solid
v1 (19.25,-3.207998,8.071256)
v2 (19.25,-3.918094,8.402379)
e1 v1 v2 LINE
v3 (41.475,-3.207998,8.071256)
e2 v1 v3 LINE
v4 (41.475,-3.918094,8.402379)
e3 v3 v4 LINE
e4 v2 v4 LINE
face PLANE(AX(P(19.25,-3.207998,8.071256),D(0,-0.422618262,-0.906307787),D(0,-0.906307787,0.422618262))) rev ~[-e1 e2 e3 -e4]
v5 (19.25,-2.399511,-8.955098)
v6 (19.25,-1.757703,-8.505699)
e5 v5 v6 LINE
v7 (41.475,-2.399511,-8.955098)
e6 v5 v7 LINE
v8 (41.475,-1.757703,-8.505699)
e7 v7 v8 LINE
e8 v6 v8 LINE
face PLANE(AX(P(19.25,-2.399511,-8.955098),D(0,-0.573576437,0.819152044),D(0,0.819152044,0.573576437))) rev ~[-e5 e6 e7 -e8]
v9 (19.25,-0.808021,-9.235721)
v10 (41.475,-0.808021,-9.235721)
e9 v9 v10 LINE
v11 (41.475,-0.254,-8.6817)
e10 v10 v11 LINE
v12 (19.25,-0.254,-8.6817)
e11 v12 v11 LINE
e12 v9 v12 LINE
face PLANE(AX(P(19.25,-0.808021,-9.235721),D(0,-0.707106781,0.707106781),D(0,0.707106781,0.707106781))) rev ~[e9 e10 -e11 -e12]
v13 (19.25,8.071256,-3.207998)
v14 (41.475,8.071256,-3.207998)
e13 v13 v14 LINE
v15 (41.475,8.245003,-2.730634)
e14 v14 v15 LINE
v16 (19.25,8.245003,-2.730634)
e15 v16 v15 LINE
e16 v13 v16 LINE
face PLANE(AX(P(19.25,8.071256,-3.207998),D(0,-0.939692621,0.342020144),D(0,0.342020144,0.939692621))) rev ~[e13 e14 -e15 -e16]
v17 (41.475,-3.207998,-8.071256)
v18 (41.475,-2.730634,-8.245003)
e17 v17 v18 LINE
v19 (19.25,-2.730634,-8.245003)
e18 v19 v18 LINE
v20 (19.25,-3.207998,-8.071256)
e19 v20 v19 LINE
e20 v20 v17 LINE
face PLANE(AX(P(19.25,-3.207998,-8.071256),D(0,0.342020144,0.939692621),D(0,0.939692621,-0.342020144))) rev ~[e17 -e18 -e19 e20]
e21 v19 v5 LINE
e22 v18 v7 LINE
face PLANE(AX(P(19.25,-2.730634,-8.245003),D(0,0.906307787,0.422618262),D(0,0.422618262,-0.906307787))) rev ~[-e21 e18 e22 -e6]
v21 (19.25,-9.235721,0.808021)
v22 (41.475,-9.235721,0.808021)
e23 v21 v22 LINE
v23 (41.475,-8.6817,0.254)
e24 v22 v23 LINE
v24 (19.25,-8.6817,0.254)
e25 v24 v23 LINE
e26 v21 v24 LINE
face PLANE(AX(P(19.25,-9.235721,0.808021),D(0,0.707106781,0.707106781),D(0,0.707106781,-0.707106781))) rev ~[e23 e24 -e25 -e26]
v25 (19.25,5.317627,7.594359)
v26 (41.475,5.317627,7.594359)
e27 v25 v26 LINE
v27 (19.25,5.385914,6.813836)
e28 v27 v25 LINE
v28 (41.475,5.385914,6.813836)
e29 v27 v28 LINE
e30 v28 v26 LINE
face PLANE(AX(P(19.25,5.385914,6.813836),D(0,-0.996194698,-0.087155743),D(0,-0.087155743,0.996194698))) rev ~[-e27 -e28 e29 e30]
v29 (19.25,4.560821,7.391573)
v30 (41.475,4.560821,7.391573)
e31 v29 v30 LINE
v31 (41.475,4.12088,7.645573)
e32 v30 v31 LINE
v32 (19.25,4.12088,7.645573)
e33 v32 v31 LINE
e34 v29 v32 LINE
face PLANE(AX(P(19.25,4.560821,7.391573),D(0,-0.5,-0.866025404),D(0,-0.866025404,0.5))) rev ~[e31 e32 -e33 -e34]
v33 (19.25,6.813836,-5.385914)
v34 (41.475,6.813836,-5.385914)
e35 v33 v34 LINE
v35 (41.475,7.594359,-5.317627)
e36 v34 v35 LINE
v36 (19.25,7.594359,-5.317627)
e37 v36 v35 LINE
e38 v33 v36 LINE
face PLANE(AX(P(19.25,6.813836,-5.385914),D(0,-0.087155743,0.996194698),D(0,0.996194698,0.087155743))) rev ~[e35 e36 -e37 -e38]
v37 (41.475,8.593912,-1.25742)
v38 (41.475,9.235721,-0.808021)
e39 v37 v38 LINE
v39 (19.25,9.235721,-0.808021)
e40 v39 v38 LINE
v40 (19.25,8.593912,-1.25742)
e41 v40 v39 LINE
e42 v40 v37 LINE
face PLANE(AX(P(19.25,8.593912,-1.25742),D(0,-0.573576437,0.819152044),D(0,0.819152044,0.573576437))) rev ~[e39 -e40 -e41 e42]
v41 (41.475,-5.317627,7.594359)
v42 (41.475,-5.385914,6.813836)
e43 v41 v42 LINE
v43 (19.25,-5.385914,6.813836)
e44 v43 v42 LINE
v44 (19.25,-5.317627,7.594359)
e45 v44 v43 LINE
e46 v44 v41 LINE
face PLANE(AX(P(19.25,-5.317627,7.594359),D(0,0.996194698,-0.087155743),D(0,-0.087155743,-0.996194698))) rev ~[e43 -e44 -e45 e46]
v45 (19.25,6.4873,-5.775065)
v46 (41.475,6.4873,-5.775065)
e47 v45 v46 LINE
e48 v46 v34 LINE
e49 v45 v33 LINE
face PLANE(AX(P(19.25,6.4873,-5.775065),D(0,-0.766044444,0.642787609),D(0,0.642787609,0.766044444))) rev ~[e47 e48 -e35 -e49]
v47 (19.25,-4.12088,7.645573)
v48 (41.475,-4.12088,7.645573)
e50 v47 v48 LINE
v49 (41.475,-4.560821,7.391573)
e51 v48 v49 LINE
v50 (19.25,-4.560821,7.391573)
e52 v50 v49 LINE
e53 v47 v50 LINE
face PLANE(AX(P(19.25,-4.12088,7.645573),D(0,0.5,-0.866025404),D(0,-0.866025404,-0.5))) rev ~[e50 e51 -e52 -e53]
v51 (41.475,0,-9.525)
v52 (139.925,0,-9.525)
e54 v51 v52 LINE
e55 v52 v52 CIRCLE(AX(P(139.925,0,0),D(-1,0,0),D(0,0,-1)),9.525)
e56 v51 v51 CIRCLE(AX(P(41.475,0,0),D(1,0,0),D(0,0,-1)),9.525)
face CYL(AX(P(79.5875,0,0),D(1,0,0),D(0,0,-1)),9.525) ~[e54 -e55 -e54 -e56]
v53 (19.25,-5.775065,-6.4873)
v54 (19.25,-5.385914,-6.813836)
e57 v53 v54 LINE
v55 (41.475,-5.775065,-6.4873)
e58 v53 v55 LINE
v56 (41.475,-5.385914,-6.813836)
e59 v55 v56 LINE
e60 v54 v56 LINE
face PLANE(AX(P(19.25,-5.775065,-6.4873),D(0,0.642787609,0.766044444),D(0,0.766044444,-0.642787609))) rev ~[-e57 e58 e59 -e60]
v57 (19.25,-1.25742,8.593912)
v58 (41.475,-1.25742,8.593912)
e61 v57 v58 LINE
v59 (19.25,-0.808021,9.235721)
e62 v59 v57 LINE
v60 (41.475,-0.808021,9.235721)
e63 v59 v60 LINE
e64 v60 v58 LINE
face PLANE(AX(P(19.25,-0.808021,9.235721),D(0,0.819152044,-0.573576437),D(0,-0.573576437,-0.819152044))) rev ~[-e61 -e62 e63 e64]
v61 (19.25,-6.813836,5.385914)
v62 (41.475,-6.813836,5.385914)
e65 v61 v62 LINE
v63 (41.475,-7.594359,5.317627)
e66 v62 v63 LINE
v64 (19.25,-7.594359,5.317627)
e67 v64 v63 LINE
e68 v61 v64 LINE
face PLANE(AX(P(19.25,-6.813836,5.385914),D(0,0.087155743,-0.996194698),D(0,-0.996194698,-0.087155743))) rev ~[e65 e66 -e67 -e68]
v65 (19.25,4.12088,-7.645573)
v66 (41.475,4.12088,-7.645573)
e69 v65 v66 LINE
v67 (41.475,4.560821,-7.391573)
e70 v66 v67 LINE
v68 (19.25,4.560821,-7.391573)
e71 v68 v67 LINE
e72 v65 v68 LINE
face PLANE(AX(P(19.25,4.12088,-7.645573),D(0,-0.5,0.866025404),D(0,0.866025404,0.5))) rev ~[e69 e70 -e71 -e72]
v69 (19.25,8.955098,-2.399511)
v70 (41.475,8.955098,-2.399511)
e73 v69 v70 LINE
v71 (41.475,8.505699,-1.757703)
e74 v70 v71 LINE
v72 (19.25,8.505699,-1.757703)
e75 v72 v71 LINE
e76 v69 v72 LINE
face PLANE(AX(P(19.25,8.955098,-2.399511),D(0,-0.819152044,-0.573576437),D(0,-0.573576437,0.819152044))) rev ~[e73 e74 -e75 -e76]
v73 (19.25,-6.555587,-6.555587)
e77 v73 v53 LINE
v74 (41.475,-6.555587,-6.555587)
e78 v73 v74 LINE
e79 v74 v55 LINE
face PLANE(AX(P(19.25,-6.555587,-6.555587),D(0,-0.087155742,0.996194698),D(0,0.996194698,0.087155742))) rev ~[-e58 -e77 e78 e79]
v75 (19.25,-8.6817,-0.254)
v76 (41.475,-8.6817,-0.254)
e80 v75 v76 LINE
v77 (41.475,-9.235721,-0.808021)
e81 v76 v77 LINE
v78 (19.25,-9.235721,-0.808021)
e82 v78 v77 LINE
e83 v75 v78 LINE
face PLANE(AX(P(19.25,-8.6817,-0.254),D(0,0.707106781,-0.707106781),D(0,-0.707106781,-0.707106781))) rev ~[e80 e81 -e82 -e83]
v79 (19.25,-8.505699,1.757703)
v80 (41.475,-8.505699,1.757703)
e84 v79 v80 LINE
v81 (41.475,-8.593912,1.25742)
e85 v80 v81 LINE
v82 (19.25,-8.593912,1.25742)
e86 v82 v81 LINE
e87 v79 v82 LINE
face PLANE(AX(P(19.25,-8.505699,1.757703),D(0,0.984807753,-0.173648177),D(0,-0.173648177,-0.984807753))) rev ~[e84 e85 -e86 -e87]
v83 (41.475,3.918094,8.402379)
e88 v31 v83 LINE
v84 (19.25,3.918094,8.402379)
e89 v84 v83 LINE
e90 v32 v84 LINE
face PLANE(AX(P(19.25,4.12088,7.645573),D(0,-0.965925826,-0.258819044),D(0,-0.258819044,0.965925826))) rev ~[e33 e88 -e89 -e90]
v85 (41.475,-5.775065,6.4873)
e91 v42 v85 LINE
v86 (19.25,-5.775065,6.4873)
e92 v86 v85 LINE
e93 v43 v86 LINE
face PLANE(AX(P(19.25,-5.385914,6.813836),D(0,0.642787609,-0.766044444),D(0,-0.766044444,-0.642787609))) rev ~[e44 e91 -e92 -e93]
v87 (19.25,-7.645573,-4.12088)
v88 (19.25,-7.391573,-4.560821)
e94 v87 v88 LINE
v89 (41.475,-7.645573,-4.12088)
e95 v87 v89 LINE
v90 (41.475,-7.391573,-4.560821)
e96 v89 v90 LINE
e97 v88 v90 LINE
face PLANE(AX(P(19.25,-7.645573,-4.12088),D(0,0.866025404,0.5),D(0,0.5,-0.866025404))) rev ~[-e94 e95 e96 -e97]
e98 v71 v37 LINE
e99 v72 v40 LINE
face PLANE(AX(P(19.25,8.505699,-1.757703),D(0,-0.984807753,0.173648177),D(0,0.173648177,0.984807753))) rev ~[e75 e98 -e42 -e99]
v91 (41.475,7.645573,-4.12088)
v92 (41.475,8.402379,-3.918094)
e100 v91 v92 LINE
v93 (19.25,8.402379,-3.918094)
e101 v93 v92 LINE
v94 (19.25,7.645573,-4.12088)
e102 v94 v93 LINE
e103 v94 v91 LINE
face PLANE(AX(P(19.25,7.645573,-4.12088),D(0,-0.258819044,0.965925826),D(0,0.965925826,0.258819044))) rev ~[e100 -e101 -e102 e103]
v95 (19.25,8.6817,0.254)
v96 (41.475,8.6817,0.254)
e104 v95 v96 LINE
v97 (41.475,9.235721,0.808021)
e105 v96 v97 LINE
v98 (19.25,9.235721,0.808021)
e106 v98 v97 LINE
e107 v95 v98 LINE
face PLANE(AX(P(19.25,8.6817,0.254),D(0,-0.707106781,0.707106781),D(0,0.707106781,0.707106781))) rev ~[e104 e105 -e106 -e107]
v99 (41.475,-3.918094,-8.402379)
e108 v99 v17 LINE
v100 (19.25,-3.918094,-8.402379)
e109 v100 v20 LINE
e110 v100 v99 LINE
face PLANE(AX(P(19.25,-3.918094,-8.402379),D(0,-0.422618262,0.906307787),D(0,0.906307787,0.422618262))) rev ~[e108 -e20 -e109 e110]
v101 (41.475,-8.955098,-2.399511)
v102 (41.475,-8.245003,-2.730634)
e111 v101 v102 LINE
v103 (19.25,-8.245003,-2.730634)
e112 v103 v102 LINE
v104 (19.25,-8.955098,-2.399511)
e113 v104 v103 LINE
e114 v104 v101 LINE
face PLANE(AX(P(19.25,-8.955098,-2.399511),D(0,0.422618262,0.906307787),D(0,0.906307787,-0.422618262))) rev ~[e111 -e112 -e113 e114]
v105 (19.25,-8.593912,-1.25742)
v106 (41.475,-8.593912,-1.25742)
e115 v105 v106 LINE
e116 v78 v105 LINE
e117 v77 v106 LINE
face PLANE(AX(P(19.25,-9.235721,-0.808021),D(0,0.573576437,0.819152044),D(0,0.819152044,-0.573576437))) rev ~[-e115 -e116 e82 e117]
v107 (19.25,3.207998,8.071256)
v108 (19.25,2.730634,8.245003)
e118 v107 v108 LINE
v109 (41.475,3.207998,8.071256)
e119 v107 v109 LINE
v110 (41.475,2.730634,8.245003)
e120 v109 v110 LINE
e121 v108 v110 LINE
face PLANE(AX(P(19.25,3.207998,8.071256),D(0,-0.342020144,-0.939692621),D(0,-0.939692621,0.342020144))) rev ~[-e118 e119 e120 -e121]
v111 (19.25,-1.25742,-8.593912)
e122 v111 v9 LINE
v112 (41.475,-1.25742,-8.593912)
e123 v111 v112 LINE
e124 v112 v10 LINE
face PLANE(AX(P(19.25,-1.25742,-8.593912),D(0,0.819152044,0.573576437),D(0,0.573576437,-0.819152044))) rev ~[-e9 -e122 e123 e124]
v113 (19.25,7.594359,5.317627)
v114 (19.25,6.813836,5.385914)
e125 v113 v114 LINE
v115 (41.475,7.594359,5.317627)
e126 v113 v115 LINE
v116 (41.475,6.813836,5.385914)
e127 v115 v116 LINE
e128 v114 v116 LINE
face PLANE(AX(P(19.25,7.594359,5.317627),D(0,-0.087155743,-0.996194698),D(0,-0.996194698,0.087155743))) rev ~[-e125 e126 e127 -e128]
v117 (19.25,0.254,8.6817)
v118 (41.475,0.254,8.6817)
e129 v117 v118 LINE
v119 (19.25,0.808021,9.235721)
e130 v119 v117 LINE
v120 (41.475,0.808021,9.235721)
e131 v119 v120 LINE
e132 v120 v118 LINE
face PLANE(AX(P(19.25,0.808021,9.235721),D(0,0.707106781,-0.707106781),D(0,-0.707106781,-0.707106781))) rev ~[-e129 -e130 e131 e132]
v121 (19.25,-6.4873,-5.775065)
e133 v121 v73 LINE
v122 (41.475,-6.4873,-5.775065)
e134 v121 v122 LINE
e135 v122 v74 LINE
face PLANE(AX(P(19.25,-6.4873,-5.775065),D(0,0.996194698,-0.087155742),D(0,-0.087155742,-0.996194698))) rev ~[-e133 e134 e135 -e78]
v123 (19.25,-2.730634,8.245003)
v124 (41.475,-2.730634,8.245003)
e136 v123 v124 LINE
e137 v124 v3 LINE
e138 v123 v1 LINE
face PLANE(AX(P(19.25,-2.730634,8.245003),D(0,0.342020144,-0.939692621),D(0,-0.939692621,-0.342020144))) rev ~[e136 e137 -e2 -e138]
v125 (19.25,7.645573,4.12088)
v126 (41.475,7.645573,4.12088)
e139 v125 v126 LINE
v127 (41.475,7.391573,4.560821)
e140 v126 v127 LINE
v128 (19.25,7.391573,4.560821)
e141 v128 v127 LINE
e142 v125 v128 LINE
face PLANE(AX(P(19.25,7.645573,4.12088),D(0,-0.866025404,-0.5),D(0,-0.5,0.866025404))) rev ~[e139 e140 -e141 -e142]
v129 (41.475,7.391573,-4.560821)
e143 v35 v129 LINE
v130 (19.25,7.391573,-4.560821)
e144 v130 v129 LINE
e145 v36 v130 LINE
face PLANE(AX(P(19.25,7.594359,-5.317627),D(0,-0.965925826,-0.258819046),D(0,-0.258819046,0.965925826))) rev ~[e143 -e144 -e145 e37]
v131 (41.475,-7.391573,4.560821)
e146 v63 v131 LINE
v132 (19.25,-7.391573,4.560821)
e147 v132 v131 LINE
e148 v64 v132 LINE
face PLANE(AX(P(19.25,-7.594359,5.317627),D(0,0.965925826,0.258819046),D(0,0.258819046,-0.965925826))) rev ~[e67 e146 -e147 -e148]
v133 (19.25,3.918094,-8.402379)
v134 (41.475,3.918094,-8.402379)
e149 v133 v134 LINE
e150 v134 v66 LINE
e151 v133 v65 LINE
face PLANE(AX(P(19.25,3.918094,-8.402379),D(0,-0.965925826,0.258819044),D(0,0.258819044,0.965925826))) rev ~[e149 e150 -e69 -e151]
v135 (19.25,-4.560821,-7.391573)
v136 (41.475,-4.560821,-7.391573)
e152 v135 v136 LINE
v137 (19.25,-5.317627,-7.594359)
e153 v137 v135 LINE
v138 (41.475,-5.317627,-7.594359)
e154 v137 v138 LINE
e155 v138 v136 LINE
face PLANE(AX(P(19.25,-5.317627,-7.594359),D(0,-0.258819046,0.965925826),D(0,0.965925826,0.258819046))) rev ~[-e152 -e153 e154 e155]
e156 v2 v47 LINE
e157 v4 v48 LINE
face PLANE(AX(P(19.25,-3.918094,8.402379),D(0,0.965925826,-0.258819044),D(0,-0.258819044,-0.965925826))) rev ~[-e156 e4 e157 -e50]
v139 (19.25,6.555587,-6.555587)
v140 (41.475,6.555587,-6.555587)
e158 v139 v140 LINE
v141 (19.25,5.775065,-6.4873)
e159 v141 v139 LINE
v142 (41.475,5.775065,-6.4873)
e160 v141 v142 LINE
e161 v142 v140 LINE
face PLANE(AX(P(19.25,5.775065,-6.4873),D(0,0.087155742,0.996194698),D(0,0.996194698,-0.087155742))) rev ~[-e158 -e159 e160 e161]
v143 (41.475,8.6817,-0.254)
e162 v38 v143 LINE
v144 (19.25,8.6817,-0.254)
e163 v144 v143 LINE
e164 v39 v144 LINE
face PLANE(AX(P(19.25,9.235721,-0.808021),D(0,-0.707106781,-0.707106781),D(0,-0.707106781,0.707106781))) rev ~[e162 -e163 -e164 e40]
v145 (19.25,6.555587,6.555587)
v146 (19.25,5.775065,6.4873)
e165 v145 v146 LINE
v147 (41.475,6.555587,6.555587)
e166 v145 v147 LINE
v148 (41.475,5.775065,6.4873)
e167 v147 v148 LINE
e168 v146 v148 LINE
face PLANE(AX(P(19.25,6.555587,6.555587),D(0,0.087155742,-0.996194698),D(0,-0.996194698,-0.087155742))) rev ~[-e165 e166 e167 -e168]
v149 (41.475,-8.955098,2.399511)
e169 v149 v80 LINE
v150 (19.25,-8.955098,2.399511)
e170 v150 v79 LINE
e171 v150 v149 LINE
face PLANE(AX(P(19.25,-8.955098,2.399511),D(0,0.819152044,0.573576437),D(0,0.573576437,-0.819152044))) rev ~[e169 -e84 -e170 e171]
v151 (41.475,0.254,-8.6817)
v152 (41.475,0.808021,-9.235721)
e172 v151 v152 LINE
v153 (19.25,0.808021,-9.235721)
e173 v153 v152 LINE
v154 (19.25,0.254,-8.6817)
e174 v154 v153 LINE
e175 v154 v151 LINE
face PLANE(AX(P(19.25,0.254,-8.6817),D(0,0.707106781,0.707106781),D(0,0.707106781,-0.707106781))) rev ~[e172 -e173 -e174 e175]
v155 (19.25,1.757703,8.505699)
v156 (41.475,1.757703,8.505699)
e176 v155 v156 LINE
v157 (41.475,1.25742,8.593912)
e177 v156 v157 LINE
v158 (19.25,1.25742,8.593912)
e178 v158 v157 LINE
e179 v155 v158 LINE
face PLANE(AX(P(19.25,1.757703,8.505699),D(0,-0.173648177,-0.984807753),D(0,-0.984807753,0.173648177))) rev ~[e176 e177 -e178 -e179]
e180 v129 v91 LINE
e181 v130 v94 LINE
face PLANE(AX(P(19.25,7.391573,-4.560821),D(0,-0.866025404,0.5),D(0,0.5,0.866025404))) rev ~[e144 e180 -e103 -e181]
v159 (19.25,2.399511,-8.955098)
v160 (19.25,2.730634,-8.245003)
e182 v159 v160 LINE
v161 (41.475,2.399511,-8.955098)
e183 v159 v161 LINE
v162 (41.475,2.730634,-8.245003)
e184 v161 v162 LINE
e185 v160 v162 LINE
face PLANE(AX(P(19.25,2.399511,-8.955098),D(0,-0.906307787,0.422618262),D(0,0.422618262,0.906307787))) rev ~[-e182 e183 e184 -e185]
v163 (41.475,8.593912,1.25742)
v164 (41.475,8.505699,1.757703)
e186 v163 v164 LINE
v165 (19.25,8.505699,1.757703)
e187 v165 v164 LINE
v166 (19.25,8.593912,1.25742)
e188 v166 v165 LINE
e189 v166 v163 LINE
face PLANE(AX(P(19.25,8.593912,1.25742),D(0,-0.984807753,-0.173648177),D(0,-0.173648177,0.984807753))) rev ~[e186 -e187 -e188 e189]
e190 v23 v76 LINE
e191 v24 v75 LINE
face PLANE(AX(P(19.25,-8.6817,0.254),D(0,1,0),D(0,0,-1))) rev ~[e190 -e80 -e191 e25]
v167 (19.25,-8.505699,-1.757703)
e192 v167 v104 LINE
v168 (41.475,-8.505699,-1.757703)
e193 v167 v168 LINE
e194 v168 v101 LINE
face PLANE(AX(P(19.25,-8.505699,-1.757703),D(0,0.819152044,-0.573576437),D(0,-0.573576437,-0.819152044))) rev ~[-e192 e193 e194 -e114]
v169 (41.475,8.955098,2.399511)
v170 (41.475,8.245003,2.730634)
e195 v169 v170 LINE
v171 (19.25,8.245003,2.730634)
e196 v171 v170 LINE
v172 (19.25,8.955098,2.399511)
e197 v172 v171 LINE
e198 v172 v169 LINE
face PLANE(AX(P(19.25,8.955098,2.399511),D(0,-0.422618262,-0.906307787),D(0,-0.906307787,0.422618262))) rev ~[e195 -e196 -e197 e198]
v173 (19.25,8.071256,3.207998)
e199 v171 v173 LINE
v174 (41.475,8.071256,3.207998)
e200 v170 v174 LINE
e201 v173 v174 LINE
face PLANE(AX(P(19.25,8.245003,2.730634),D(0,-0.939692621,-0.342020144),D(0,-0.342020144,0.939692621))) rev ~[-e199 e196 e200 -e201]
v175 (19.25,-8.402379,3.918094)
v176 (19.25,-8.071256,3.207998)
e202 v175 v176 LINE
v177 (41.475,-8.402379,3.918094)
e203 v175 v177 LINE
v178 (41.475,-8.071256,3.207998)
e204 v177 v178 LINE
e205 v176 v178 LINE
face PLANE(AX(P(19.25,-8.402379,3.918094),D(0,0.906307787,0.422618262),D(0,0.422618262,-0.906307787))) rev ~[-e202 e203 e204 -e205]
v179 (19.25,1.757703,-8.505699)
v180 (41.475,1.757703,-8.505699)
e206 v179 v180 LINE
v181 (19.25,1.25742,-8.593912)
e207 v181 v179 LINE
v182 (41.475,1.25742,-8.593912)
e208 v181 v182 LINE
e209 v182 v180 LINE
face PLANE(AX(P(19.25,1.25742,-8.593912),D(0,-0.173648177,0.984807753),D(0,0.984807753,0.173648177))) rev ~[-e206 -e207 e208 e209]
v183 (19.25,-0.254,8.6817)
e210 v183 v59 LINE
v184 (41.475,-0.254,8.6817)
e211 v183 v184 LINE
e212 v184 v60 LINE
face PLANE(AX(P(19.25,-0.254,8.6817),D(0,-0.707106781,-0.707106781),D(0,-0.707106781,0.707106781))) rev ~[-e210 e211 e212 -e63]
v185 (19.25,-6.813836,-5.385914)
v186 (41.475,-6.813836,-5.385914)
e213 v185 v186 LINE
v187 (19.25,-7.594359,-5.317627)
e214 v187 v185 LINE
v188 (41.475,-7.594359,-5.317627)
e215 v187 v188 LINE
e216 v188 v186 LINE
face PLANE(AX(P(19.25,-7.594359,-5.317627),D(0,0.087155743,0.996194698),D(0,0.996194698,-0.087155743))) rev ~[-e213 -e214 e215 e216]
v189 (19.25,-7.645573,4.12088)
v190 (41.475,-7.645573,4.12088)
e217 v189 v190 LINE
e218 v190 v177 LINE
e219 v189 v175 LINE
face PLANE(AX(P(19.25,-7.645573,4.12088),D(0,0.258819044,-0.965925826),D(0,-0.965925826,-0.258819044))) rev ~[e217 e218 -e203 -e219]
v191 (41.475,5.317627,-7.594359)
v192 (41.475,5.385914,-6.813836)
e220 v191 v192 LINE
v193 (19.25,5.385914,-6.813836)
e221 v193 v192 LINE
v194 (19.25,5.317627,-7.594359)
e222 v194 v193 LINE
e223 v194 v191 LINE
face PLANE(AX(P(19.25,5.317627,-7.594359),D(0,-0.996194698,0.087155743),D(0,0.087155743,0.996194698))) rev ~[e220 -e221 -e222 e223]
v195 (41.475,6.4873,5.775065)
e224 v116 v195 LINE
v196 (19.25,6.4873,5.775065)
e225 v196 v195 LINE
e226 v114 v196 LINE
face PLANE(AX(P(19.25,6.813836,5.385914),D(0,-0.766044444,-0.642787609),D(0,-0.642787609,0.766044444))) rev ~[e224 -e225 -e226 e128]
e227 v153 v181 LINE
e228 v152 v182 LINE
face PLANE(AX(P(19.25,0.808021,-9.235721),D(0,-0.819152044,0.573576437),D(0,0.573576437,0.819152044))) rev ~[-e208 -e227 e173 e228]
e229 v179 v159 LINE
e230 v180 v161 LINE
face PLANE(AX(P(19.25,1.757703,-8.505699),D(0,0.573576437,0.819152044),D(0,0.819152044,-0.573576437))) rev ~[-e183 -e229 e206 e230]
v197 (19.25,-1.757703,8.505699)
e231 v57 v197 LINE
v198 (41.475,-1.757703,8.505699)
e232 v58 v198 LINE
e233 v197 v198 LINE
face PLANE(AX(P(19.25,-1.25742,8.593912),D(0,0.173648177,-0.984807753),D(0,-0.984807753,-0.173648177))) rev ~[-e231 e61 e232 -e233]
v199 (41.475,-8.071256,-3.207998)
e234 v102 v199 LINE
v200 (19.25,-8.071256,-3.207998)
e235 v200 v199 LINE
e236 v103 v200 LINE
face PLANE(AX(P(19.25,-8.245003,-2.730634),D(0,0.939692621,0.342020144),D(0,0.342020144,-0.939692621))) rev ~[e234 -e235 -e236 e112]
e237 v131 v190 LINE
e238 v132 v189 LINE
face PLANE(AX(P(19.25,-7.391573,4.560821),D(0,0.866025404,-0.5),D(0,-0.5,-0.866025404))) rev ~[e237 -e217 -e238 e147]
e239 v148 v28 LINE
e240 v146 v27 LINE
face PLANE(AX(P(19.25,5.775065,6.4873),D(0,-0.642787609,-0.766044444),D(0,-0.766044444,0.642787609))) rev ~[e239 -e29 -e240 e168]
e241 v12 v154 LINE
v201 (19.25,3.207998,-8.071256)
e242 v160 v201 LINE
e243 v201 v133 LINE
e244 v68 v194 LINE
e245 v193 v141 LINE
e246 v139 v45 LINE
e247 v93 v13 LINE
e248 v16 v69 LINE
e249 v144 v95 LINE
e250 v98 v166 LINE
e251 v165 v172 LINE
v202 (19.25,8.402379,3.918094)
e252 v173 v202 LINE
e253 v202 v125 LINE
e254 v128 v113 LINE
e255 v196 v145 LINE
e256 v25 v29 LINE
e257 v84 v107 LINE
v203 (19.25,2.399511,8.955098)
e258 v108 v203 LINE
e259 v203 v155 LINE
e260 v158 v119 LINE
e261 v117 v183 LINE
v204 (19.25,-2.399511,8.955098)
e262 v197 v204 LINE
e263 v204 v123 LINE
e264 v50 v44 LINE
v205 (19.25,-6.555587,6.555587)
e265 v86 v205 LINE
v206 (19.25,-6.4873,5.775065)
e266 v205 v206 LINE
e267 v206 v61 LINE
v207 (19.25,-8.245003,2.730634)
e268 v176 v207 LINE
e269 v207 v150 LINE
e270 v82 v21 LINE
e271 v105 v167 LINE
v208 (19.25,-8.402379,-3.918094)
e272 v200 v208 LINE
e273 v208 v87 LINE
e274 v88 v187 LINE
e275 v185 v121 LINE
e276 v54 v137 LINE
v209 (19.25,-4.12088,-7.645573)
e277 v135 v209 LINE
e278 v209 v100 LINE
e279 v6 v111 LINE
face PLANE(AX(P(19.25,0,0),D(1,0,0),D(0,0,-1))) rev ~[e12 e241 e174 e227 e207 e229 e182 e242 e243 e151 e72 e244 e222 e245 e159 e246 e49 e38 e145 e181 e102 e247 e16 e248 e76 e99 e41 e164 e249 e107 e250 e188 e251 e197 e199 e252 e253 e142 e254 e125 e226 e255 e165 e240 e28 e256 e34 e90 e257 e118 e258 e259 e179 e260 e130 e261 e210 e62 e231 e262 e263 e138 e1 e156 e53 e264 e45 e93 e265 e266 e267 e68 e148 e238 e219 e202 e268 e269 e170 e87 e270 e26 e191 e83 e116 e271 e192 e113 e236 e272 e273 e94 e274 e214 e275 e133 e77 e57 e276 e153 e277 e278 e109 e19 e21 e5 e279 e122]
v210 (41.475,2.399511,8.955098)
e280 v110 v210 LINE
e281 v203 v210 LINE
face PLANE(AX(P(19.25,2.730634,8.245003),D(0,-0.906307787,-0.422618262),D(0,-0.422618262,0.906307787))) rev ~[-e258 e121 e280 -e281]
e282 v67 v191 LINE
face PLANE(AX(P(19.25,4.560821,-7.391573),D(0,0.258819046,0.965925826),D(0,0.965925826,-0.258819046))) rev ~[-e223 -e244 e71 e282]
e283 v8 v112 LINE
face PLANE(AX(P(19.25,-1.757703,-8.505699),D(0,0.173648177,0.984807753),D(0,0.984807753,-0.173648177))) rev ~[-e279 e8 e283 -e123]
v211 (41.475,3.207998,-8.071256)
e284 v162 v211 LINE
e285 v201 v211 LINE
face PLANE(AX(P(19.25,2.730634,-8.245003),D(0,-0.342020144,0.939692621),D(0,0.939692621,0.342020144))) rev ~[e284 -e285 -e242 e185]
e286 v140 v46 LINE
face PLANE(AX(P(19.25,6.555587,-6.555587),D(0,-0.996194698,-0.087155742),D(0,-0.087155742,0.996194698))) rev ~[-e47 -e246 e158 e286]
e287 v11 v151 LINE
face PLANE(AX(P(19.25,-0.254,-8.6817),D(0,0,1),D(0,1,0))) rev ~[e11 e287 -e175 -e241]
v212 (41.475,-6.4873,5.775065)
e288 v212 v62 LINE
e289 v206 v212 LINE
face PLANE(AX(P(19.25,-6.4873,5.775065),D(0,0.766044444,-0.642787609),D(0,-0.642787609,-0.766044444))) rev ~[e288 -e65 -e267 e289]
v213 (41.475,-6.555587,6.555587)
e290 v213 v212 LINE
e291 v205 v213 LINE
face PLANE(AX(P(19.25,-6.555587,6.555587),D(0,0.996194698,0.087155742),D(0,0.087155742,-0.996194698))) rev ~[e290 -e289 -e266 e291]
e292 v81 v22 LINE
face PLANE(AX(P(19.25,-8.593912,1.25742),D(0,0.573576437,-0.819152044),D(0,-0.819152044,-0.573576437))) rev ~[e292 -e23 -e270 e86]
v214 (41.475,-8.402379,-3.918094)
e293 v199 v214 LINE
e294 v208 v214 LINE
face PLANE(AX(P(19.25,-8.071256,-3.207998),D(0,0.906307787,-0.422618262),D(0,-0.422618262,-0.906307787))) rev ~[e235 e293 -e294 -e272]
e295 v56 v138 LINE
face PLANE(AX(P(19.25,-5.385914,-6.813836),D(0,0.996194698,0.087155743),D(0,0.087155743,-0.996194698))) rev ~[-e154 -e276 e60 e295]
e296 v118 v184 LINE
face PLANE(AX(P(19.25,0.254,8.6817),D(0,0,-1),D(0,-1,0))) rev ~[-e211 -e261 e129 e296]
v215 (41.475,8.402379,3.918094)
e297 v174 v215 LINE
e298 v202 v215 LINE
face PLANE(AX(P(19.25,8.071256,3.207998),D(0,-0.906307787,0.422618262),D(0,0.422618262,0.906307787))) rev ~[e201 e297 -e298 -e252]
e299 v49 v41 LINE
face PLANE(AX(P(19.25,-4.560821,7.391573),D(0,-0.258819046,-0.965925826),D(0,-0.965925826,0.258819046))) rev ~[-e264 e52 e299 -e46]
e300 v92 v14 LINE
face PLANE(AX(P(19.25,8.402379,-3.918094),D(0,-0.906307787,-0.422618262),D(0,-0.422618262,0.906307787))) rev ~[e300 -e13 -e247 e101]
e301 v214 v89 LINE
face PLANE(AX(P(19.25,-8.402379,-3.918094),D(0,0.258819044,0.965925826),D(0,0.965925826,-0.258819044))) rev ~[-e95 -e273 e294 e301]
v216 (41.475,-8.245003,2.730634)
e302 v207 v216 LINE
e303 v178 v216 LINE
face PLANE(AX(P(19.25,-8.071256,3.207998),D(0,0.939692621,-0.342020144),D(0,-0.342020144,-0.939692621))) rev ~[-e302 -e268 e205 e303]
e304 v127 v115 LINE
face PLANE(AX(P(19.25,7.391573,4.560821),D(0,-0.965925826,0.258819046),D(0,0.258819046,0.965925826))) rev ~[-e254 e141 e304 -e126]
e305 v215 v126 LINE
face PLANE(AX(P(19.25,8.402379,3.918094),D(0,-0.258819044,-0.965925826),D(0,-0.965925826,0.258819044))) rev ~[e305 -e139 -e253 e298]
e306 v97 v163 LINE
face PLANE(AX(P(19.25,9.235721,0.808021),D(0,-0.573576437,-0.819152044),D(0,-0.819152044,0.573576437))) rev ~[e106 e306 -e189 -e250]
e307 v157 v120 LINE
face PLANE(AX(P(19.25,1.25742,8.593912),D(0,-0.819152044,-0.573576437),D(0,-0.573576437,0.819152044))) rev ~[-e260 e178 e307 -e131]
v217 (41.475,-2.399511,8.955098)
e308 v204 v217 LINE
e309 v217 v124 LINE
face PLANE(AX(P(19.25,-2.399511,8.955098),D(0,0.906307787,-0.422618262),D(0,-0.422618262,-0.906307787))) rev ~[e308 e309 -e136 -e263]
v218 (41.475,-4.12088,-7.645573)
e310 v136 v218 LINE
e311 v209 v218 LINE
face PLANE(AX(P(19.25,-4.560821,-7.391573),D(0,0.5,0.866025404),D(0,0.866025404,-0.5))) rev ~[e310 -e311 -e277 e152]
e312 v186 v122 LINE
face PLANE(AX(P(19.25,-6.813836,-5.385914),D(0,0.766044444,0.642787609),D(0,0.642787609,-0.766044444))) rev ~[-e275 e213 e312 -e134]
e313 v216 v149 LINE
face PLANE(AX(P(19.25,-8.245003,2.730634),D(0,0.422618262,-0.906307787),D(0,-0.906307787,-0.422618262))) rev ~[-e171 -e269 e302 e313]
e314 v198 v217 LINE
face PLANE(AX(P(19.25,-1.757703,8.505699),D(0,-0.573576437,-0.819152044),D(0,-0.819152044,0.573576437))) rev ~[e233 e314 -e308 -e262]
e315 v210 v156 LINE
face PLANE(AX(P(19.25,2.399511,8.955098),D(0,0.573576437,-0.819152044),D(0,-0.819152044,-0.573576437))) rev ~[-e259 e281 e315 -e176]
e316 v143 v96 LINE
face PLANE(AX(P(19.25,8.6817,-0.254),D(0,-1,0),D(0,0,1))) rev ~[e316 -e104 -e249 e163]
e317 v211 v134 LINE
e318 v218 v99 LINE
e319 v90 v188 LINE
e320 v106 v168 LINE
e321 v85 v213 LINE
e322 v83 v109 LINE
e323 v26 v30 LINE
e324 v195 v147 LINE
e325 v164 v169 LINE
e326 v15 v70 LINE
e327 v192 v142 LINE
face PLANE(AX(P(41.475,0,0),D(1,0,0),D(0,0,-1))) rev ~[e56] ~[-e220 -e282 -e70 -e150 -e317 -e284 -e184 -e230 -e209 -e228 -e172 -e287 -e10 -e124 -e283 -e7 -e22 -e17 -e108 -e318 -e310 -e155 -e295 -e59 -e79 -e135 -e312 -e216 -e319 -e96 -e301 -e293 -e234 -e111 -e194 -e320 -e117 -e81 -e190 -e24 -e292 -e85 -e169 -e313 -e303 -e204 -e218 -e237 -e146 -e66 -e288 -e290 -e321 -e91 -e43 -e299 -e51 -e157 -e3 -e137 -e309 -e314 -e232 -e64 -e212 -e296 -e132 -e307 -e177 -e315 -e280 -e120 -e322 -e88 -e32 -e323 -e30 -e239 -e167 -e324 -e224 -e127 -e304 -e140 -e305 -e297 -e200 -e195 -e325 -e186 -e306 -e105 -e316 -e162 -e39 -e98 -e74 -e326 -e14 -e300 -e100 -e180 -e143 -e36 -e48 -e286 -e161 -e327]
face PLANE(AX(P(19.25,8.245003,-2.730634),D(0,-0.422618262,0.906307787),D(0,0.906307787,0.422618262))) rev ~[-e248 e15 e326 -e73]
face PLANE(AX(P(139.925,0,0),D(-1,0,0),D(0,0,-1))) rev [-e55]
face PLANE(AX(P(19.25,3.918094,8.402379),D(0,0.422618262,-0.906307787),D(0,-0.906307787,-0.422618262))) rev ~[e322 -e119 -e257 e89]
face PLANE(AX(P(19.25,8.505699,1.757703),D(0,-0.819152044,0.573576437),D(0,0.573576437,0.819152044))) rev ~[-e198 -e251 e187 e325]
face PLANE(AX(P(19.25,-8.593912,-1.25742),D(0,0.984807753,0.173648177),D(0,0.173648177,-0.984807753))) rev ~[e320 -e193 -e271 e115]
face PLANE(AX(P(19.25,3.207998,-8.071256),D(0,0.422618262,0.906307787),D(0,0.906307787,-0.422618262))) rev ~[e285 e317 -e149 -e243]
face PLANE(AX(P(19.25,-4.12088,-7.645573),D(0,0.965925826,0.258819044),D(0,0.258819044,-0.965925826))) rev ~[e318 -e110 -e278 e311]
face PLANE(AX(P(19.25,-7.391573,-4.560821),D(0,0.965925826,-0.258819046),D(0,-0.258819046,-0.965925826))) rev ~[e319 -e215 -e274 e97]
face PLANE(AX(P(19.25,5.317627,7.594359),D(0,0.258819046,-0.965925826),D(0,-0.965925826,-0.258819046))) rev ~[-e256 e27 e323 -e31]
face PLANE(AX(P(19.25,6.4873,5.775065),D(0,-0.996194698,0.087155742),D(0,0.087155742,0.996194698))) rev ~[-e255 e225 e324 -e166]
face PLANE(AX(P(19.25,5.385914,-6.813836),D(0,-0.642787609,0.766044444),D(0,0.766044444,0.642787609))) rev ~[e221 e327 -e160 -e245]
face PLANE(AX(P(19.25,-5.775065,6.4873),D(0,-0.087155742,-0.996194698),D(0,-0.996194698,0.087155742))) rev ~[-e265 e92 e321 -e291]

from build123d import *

# Parameters (mm, degrees)
SKETCH1_W           = 120.675
SKETCH1_H           = 1.5875
CUT_EXTRUDE2_START  = 19.25
SKETCH4_R           = 12.7
CUT_EXTRUDE2_DEPTH  = 22.225
BOSS_EXTRUDE1_START = -120.675
SKETCH5_R           = 7.9375
BOSS_EXTRUDE1_DEPTH = 120.675


with BuildPart() as part:
    # Sketch1 → Revolve1 (revolve)
    with BuildSketch(Plane(origin=(0, 0, 0), x_dir=(1, 0, 0), z_dir=(0, 1, 0))):
        with Locations((79.5875, 8.73125)):
            Rectangle(SKETCH1_W, SKETCH1_H)
    revolve(axis=Axis((157.324, 0, 0), (-1, 0, 0)))

    # Sketch4 → Cut-Extrude2 (cut)
    with BuildSketch(Plane(origin=(0, 0, 0), x_dir=(0, 0, -1), z_dir=(1, 0, 0)).offset(CUT_EXTRUDE2_START)):
        Circle(SKETCH4_R)
        Polygon((-9.235721046, 0.808020891), (-8.681700155, 0.254), (-8.681700155, -0.254), (-9.235721046, -0.808020891), (-8.593912259, -1.257420242), (-8.505698985, -1.75770258), (-8.955098336, -2.399511367), (-8.245002688, -2.730634406), (-8.071256455, -3.207998257), (-8.402379494, -3.918093905), (-7.645572882, -4.120879625), (-7.391572882, -4.56082053), (-7.594358603, -5.317627141), (-6.813836213, -5.385914002), (-6.487300108, -5.775064579), (-6.555586968, -6.555586968), (-5.775064579, -6.487300108), (-5.385914002, -6.813836213), (-5.317627141, -7.594358603), (-4.56082053, -7.391572882), (-4.120879625, -7.645572882), (-3.918093905, -8.402379494), (-3.207998257, -8.071256455), (-2.730634406, -8.245002688), (-2.399511367, -8.955098336), (-1.75770258, -8.505698985), (-1.257420242, -8.593912259), (-0.808020891, -9.235721046), (-0.254, -8.681700155), (0.254, -8.681700155), (0.808020891, -9.235721046), (1.257420242, -8.593912259), (1.75770258, -8.505698985), (2.399511367, -8.955098336), (2.730634406, -8.245002688), (3.207998257, -8.071256455), (3.918093905, -8.402379494), (4.120879625, -7.645572882), (4.56082053, -7.391572882), (5.317627141, -7.594358603), (5.385914002, -6.813836213), (5.775064579, -6.487300108), (6.555586968, -6.555586968), (6.487300108, -5.775064579), (6.813836213, -5.385914002), (7.594358603, -5.317627141), (7.391572882, -4.56082053), (7.645572882, -4.120879625), (8.402379494, -3.918093905), (8.071256455, -3.207998257), (8.245002688, -2.730634406), (8.955098336, -2.399511367), (8.505698985, -1.75770258), (8.593912259, -1.257420242), (9.235721046, -0.808020891), (8.681700155, -0.254), (8.681700155, 0.254), (9.235721046, 0.808020891), (8.593912259, 1.257420242), (8.505698985, 1.75770258), (8.955098336, 2.399511367), (8.245002688, 2.730634406), (8.071256455, 3.207998257), (8.402379494, 3.918093905), (7.645572882, 4.120879625), (7.391572882, 4.56082053), (7.594358603, 5.317627141), (6.813836213, 5.385914002), (6.487300108, 5.775064579), (6.555586968, 6.555586968), (5.775064579, 6.487300108), (5.385914002, 6.813836213), (5.317627141, 7.594358603), (4.56082053, 7.391572882), (4.120879625, 7.645572882), (3.918093905, 8.402379494), (3.207998257, 8.071256455), (2.730634406, 8.245002688), (2.399511367, 8.955098336), (1.75770258, 8.505698985), (1.257420242, 8.593912259), (0.808020891, 9.235721046), (0.254, 8.681700155), (-0.254, 8.681700155), (-0.808020891, 9.235721046), (-1.257420242, 8.593912259), (-1.75770258, 8.505698985), (-2.399511367, 8.955098336), (-2.730634406, 8.245002688), (-3.207998257, 8.071256455), (-3.918093905, 8.402379494), (-4.120879625, 7.645572882), (-4.56082053, 7.391572882), (-5.317627141, 7.594358603), (-5.385914002, 6.813836213), (-5.775064579, 6.487300108), (-6.555586968, 6.555586968), (-6.487300108, 5.775064579), (-6.813836213, 5.385914002), (-7.594358603, 5.317627141), (-7.391572882, 4.56082053), (-7.645572882, 4.120879625), (-8.402379494, 3.918093905), (-8.071256455, 3.207998257), (-8.245002688, 2.730634406), (-8.955098336, 2.399511367), (-8.505698985, 1.75770258), (-8.593912259, 1.257420242), align=None, mode=Mode.SUBTRACT)
    extrude(amount=CUT_EXTRUDE2_DEPTH, mode=Mode.SUBTRACT)

    # Sketch5 → Boss-Extrude1 (add)
    with BuildSketch(Plane(origin=(139.925, 0, 0), x_dir=(0, 0, -1), z_dir=(1, 0, 0)).offset(BOSS_EXTRUDE1_START)):
        Circle(SKETCH5_R)
    extrude(amount=BOSS_EXTRUDE1_DEPTH)


solid = part.part
